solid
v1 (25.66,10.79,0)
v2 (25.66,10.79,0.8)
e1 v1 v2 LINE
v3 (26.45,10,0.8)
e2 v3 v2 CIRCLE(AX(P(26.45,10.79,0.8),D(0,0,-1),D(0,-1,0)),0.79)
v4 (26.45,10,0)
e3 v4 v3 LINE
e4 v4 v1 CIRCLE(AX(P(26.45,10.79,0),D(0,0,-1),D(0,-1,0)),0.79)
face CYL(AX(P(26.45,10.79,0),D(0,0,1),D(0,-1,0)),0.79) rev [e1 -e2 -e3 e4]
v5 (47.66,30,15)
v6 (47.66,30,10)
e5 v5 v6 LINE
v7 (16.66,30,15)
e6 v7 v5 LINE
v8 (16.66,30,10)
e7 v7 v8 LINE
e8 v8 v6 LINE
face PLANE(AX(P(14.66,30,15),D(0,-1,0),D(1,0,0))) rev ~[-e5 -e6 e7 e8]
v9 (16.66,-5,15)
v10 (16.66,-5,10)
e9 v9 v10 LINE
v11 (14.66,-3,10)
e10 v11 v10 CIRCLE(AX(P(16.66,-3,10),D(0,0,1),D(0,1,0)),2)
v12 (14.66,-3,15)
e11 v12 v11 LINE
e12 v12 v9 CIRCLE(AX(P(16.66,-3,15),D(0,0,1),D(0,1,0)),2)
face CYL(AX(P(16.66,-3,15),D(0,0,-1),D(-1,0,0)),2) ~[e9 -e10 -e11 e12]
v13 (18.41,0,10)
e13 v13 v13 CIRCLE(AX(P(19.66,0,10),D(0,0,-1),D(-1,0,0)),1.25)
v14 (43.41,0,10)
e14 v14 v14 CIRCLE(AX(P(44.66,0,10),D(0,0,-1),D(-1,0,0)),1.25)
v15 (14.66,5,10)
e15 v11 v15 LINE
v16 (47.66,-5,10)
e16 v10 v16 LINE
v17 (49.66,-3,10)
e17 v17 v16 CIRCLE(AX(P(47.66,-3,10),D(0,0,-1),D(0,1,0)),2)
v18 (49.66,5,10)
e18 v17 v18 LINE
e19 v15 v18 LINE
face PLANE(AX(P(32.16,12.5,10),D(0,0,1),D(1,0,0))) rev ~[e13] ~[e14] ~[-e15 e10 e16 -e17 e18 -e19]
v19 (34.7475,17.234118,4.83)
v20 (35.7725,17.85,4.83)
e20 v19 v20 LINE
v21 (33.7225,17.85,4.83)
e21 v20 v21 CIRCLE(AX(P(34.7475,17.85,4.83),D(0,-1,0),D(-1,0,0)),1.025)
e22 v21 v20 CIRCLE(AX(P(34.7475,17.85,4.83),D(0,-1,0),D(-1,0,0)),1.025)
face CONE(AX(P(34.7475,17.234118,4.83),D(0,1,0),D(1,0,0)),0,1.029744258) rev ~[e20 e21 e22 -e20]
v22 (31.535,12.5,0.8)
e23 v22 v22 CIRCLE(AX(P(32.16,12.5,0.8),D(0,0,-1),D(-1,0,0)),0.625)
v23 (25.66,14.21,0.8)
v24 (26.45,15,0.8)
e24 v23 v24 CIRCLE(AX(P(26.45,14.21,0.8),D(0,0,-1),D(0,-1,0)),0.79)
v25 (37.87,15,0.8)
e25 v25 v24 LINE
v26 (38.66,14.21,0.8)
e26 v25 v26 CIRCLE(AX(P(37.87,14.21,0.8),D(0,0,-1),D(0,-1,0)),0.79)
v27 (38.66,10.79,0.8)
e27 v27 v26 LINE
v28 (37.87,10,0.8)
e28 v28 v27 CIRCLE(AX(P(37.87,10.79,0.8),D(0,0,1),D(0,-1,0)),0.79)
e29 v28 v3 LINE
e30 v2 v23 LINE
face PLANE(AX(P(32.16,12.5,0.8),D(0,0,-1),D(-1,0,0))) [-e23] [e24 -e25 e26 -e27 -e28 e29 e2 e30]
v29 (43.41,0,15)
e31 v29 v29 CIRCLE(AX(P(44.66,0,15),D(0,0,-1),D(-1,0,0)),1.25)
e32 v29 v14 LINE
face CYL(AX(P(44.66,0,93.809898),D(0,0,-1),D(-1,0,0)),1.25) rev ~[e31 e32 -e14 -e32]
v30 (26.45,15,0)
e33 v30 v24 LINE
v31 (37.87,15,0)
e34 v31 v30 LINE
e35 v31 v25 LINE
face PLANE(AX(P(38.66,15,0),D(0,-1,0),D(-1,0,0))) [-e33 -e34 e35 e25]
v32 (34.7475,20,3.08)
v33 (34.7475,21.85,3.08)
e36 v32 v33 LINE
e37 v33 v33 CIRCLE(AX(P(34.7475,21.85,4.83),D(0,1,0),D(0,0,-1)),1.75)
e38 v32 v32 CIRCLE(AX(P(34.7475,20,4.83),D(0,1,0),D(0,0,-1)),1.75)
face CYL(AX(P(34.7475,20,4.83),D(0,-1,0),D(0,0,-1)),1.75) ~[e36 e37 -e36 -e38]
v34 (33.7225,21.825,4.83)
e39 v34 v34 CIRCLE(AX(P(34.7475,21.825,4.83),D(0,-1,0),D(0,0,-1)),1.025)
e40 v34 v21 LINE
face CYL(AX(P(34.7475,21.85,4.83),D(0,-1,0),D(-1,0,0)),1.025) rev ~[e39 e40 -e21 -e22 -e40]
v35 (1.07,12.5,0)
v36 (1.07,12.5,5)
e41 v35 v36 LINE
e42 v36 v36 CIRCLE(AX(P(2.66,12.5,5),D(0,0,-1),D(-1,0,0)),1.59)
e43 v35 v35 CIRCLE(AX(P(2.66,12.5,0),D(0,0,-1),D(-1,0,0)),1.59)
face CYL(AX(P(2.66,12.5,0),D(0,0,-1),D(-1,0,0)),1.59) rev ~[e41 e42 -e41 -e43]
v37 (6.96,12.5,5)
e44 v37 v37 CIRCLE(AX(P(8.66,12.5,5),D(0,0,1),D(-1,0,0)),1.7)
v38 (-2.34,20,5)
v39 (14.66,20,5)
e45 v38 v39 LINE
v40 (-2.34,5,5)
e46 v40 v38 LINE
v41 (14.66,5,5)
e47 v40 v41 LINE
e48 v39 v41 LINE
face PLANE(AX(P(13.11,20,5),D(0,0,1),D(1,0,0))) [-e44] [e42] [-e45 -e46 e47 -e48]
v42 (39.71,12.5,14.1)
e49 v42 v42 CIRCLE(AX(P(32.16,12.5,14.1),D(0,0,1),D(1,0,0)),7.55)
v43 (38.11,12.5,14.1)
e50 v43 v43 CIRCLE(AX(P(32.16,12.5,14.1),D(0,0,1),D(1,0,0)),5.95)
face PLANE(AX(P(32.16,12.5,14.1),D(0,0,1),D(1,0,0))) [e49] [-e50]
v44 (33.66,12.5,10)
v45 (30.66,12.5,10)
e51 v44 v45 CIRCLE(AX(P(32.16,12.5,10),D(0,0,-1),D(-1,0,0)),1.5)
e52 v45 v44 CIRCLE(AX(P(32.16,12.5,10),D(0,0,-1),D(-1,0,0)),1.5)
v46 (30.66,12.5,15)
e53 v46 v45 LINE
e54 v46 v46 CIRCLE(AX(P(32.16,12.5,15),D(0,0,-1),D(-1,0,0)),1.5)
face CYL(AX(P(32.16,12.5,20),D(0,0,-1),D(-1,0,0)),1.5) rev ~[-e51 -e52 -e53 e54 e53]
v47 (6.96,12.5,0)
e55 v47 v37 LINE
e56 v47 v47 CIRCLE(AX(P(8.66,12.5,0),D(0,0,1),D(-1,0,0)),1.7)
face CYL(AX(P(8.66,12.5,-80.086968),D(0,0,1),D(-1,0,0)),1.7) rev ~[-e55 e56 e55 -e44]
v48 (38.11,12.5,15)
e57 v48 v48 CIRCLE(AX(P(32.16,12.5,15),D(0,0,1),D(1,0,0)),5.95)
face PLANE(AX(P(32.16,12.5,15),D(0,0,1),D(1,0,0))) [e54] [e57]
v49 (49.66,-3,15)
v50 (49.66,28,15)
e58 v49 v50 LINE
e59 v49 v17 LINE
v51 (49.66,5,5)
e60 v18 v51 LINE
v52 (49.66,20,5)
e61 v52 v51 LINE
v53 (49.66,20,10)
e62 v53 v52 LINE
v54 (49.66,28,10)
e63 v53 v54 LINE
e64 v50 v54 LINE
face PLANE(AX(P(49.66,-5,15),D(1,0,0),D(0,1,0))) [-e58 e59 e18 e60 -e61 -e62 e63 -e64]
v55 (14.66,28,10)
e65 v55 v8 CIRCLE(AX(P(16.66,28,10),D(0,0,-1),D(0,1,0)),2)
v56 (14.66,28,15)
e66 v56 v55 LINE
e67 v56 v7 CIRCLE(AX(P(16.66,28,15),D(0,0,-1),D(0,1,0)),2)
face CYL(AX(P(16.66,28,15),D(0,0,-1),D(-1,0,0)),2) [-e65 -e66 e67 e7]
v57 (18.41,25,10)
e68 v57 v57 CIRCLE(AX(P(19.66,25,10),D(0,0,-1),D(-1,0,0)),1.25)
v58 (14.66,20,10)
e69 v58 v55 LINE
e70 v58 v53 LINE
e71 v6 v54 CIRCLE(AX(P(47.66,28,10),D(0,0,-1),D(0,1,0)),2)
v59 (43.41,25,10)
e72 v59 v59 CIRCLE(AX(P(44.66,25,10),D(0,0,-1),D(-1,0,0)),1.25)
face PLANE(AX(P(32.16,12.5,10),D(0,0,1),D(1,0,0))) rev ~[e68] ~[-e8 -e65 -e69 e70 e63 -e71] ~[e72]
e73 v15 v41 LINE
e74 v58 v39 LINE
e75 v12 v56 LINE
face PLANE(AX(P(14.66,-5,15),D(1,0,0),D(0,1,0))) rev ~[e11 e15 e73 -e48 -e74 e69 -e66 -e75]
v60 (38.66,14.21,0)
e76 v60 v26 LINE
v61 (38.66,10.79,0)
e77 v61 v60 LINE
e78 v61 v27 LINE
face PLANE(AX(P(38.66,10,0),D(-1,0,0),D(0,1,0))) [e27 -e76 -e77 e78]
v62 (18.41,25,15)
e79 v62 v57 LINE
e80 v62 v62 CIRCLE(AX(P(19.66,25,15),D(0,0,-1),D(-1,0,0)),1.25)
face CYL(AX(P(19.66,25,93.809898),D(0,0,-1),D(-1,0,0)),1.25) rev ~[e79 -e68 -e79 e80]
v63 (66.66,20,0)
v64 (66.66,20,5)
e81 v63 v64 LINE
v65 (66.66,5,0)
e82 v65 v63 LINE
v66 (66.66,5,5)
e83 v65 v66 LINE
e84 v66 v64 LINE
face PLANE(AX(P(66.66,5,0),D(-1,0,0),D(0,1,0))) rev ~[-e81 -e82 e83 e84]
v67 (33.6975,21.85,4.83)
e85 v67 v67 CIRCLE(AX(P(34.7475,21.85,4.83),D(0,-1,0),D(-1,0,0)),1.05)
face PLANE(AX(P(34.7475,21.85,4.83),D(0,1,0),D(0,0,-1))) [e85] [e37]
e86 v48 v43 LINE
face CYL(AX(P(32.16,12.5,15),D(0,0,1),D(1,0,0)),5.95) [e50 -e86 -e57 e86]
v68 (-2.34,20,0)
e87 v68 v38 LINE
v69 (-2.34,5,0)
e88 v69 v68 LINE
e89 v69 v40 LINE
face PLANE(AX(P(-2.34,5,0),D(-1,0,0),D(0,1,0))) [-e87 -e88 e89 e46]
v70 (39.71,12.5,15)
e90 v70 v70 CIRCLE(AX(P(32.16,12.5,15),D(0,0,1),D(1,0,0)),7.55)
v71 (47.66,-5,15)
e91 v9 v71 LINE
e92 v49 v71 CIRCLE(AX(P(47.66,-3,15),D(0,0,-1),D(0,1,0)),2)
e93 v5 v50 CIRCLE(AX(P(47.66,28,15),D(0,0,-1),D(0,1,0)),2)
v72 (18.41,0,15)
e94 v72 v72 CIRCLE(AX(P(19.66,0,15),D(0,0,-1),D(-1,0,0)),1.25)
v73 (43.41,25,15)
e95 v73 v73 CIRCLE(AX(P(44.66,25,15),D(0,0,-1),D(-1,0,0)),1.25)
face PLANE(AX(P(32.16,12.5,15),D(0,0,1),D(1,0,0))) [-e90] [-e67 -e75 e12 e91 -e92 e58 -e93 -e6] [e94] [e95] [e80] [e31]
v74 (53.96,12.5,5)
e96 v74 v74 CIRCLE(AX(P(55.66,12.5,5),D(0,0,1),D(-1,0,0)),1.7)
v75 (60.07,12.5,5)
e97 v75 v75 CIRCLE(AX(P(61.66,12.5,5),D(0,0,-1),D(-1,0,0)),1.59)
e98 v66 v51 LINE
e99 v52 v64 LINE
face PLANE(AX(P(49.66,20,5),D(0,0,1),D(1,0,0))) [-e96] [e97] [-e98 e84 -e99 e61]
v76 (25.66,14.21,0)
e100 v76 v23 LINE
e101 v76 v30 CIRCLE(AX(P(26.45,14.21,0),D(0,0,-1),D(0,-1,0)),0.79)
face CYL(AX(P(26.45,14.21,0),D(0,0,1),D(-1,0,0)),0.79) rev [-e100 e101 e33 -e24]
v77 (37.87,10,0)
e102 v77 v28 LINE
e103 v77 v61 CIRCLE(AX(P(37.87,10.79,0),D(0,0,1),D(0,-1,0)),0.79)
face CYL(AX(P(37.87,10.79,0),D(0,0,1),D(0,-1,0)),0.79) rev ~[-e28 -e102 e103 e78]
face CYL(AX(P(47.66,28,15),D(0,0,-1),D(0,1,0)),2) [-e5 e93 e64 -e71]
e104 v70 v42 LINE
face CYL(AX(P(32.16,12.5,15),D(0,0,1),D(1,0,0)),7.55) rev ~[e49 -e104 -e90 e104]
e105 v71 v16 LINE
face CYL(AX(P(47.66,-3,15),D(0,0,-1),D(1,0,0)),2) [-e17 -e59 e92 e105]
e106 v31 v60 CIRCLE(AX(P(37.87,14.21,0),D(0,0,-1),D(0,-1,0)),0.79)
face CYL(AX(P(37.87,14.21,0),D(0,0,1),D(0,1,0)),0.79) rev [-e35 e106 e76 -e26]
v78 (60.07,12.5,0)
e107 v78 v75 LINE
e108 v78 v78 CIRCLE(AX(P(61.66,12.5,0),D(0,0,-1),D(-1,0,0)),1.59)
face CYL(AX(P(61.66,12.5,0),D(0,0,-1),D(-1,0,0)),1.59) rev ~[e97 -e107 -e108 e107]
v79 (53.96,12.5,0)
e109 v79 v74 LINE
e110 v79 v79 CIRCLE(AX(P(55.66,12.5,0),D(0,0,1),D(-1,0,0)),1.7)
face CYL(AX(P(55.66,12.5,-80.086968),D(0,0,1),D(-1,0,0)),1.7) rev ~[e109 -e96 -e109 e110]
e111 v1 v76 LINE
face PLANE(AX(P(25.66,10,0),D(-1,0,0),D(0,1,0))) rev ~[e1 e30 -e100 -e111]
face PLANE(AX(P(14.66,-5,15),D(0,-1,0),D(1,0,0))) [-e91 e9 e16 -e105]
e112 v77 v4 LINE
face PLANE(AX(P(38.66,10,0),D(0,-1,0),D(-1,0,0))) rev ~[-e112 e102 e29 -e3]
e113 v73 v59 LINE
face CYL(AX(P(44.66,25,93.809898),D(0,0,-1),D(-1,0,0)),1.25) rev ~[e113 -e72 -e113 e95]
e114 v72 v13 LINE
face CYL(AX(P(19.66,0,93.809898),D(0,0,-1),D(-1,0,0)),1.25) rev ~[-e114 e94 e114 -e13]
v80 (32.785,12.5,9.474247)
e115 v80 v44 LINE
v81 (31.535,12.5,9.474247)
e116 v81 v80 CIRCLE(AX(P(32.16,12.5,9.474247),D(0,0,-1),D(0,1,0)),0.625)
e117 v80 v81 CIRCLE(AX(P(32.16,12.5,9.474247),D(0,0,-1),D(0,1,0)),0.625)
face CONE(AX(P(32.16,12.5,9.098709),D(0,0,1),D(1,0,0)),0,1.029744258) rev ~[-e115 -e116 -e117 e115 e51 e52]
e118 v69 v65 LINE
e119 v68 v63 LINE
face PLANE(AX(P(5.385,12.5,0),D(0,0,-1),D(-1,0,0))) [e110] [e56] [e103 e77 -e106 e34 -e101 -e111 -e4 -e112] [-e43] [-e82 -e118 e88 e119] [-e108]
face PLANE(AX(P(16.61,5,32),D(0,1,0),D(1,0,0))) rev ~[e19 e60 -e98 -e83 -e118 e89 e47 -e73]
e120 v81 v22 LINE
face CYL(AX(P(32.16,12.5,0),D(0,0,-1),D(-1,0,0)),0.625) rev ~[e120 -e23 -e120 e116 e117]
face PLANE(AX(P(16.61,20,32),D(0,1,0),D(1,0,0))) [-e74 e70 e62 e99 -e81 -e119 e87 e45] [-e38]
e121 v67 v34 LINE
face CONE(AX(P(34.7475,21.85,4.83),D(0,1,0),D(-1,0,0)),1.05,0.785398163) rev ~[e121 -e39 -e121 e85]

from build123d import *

# Parameters (mm, degrees)
SKETCH1_W                                = 60
SKETCH1_H                                = 20
BOSS_EXTRUDE1_DEPTH                      = 37
CUT_EXTRUDE2_DEPTH                       = 74.273460407
CUT_EXTRUDE2_DEPTH_BACK                  = 74.273460407
SKETCH7_W                                = 60
SKETCH7_H                                = 5
SKETCH16_R                               = 1.75
BOSS_EXTRUDE3_DEPTH                      = 1.85
SKETCH27_W                               = 0.34
SKETCH27_H                               = 37
SKETCH27_W_2                             = 4.66
CUT_EXTRUDE9_DEPTH                       = 73.069410987
SKETCH28_W                               = 8.45
SKETCH28_H                               = 32
CUT_EXTRUDE10_DEPTH                      = 72.786597635
CUT_EXTRUDE13_DEPTH                      = 72.786597635
CUT_EXTRUDE13_DEPTH_BACK                 = 72.786597635
SKETCH35_OUTSIDE_W                       = 70.68
SKETCH35_OUTSIDE_H                       = 52.68
SKETCH35_OUTSIDE_W_2                     = 38.1
SKETCH35_OUTSIDE_H_2                     = 20
CUT_EXTRUDE14_DEPTH                      = 65.934306033
CUT_EXTRUDE14_DEPTH_BACK                 = 65.934306033
SKETCH39_W                               = 7
SKETCH39_H                               = 10
M3_CLEARANCE_HOLE2_D                     = 3.4
TAP_DRILL_FOR_10_32_TAP1_D               = 4.0386
TAP_DRILL_FOR_10_32_TAP1_DEPTH           = 5
TAP_DRILL_FOR_10_32_TAP1_TIP             = 1.213317848
SKETCH6_R                                = 0.625
CUT_EXTRUDE1_DEPTH                       = 27
SKETCH44_W                               = 0.62
SKETCH44_H                               = 12.45
SKETCH48_R                               = 1.58
CUT_EXTRUDE17_DEPTH                      = 8
SKETCH49_R                               = 1.709194905
SKETCH49_R_2                             = 1.7
SKETCH49_R_3                             = 1.58
BOSS_EXTRUDE4_DEPTH                      = 10
BOSS_EXTRUDE5_START                      = 17
SKETCH50_W                               = 38.1
SKETCH50_H                               = 15
SKETCH50_R                               = 0.625
BOSS_EXTRUDE5_DEPTH                      = 17
SKETCH53_W                               = 15.45
SKETCH53_H                               = 15
BOSS_EXTRUDE6_DEPTH                      = 5
SKETCH54_R                               = 1.75
BOSS_EXTRUDE7_DEPTH                      = 1.85
TAP_DRILL_FOR_M2_5X0_45_TAP2_D           = 2.05
TAP_DRILL_FOR_M2_5X0_45_TAP2_DEPTH       = 4
TAP_DRILL_FOR_M2_5X0_45_TAP2_CSINK_D     = 2.1
TAP_DRILL_FOR_M2_5X0_45_TAP2_CSINK_ANGLE = 90
TAP_DRILL_FOR_M2_5X0_45_TAP2_TIP         = 0.615882135
M3_CLEARANCE_HOLE1_D                     = 3.4
SKETCH56_R                               = 1.59
CUT_EXTRUDE21_DEPTH                      = 5
SKETCH57_W                               = 13
SKETCH57_H                               = 5
CUT_EXTRUDE22_DEPTH                      = 0.8
FILLET1_R                                = 0.79
SKETCH58_W                               = 7
SKETCH58_H                               = 10
BOSS_EXTRUDE8_DEPTH                      = 15
TAP_DRILL_FOR_M3X0_5_TAP1_D              = 2.5
SKETCH59_W                               = 38.1
SKETCH59_H                               = 22
CUT_EXTRUDE23_DEPTH                      = 78.701709119
F_3_0MM_DOWEL_HOLE1_D                    = 3
F_3_0MM_DOWEL_HOLE1_DEPTH                = 5
F_3_0MM_DOWEL_HOLE1_TIP                  = 0.901290929
SKETCH65_W                               = 35
SKETCH65_H                               = 35
SKETCH65_R                               = 1
SKETCH65_R_2                             = 4
BOSS_EXTRUDE9_DEPTH                      = 5
SKETCH64_R                               = 7.55
SKETCH64_R_2                             = 5.95
CUT_EXTRUDE24_DEPTH                      = 0.9
TAP_DRILL_FOR_M3X0_5_TAP2_D              = 2.5
SKETCH68_W                               = 1.55
SKETCH68_H                               = 10
CUT_EXTRUDE25_DEPTH                      = 73.756825109
FILLET2_R                                = 2


with BuildPart() as part:
    # Sketch1 → Boss-Extrude1 (new body)
    with BuildSketch(Plane.XY):
        with Locations((30, 10)):
            Rectangle(SKETCH1_W, SKETCH1_H)
    extrude(amount=BOSS_EXTRUDE1_DEPTH)

    # Sketch7 → Cut-Extrude2 (cut, two sides: drawn at the far end of the back side and taken through both)
    with BuildSketch(Plane(origin=(0, 0, 0), x_dir=(-1, 0, 0), z_dir=(0, 0, -1)).offset(-CUT_EXTRUDE2_DEPTH_BACK)):
        with Locations((-30, 2.5)):
            Rectangle(SKETCH7_W, SKETCH7_H)
    extrude(amount=CUT_EXTRUDE2_DEPTH + CUT_EXTRUDE2_DEPTH_BACK, mode=Mode.SUBTRACT)

    # Sketch16 → Boss-Extrude3 (add)
    with BuildSketch(Plane(origin=(0, 20, 0), x_dir=(1, 0, 0), z_dir=(0, 1, 0))):
        with Locations(Location((34.7475, -4.83, 0), (0, 0, 90))):
            Circle(SKETCH16_R)
    extrude(amount=BOSS_EXTRUDE3_DEPTH)

    # Sketch27 → Cut-Extrude9 (cut, through all)
    with BuildSketch(Plane(origin=(0, 20, 0), x_dir=(1, 0, 0), z_dir=(0, 1, 0))):
        with Locations((59.83, -18.5)):
            Rectangle(SKETCH27_W, SKETCH27_H)
        with Locations((2.33, -18.5)):
            Rectangle(SKETCH27_W_2, SKETCH27_H)
    extrude(amount=-CUT_EXTRUDE9_DEPTH, mode=Mode.SUBTRACT)

    # Sketch28 → Cut-Extrude10 (cut, through all)
    with BuildSketch(Plane(origin=(0, 20, 0), x_dir=(1, 0, 0), z_dir=(0, 1, 0))):
        with Locations((55.435, -21)):
            Rectangle(SKETCH28_W, SKETCH28_H)
        with Locations((8.885, -21)):
            Rectangle(SKETCH28_W, SKETCH28_H)
    extrude(amount=-CUT_EXTRUDE10_DEPTH, mode=Mode.SUBTRACT)

    # Sketch35 outside → Cut-Extrude13 (cut, two sides: drawn at the far end of the back side and taken through both)
    with BuildSketch(Plane(origin=(0, 20, 0), x_dir=(1, 0, 0), z_dir=(0, 1, 0)).offset(-CUT_EXTRUDE13_DEPTH_BACK)):
        with Locations((32.16, -18.5)):
            Rectangle(SKETCH35_OUTSIDE_W, SKETCH35_OUTSIDE_H)
        with Locations((32.16, -27)):
            Rectangle(SKETCH35_OUTSIDE_W_2, SKETCH35_OUTSIDE_H_2, mode=Mode.SUBTRACT)
    extrude(amount=CUT_EXTRUDE13_DEPTH + CUT_EXTRUDE13_DEPTH_BACK, mode=Mode.SUBTRACT)

    # Sketch39 → Cut-Extrude14 (cut, two sides: drawn at the far end of the back side and taken through both)
    with BuildSketch(Plane(origin=(0, 20, 0), x_dir=(1, 0, 0), z_dir=(0, 1, 0)).offset(-CUT_EXTRUDE14_DEPTH_BACK)):
        with Locations((16.61, -32)):
            Rectangle(SKETCH39_W, SKETCH39_H)
        with Locations((47.71, -32)):
            Rectangle(SKETCH39_W, SKETCH39_H)
    extrude(amount=CUT_EXTRUDE14_DEPTH + CUT_EXTRUDE14_DEPTH_BACK, mode=Mode.SUBTRACT)

    # M3 Clearance Hole2 (through all)
    with Locations(Plane.XY.offset(27)):
        with Locations((17.11, 12.5), (47.21, 12.5)):
            Hole(M3_CLEARANCE_HOLE2_D / 2)

    # Tap Drill for #10-32 Tap1
    with Locations(Plane.XY.offset(37)):
        with Locations((32.16, 12.5)):
            Hole(TAP_DRILL_FOR_10_32_TAP1_D / 2, depth=TAP_DRILL_FOR_10_32_TAP1_DEPTH)
            with Locations((0, 0, -(TAP_DRILL_FOR_10_32_TAP1_DEPTH + TAP_DRILL_FOR_10_32_TAP1_TIP / 2))):  # 118° drill point
                Cone(0, TAP_DRILL_FOR_10_32_TAP1_D / 2, TAP_DRILL_FOR_10_32_TAP1_TIP, mode=Mode.SUBTRACT)

    # Sketch6 → Cut-Extrude1 (cut)
    with BuildSketch(Plane(origin=(0, 0, 17), x_dir=(-1, 0, 0), z_dir=(0, 0, -1))):
        with Locations((-32.16, 12.5)):
            Circle(SKETCH6_R)
    extrude(amount=-CUT_EXTRUDE1_DEPTH, mode=Mode.SUBTRACT)

    # Sketch44 → Cut-Revolve1 (revolve, cut)
    with BuildSketch(Plane(origin=(0, 12.5, 0), x_dir=(1, 0, 0), z_dir=(0, 1, 0))):
        Polygon((34.18, -37), (32.16, -37), (32.16, -29.45), (32.78, -29.45), (34.18, -30.29), align=None)
        with Locations((32.47, -23.225)):
            Rectangle(SKETCH44_W, SKETCH44_H)
    revolve(axis=Axis((32.16, 12.5, 37), (0, 0, -1)), mode=Mode.SUBTRACT)

    # Sketch48 → Cut-Extrude17 (cut)
    with BuildSketch(Plane(origin=(0, 0, 17), x_dir=(-1, 0, 0), z_dir=(0, 0, -1))):
        with Locations((-37.21, 15)):
            Circle(SKETCH48_R)
        with Locations((-27.11, 15)):
            Circle(SKETCH48_R)
    extrude(amount=-CUT_EXTRUDE17_DEPTH, mode=Mode.SUBTRACT)

    # Sketch49 → Boss-Extrude4 (add)
    with BuildSketch(Plane(origin=(0, 0, 17), x_dir=(-1, 0, 0), z_dir=(0, 0, -1))):
        with Locations((-47.21, 12.5)):
            Circle(SKETCH49_R)
        with Locations((-17.11, 12.5)):
            Circle(SKETCH49_R_2)
        with Locations((-27.11, 15)):
            Circle(SKETCH49_R_3)
        with Locations((-37.21, 15)):
            Circle(SKETCH49_R_3)
    extrude(amount=-BOSS_EXTRUDE4_DEPTH)

    # Sketch50 → Boss-Extrude5 (add)
    with BuildSketch(Plane(origin=(0, 0, 17), x_dir=(-1, 0, 0), z_dir=(0, 0, -1)).offset(BOSS_EXTRUDE5_START)):
        with Locations((-32.16, 12.5)):
            Rectangle(SKETCH50_W, SKETCH50_H)
        with Locations((-32.16, 12.5)):
            Circle(SKETCH50_R, mode=Mode.SUBTRACT)
    extrude(amount=-BOSS_EXTRUDE5_DEPTH)

    # Sketch53 → Boss-Extrude6 (add)
    with BuildSketch(Plane(origin=(0, 0, 0), x_dir=(-1, 0, 0), z_dir=(0, 0, -1))):
        with Locations((-5.385, 12.5)):
            Rectangle(SKETCH53_W, SKETCH53_H)
        with Locations((-58.935, 12.5)):
            Rectangle(SKETCH53_W, SKETCH53_H)
    extrude(amount=-BOSS_EXTRUDE6_DEPTH)

    # Sketch54 → Boss-Extrude7 (add)
    with BuildSketch(Plane(origin=(0, 20, 0), x_dir=(1, 0, 0), z_dir=(0, 1, 0))):
        with Locations(Location((34.7475, -4.83, 0), (0, 0, 90))):
            Circle(SKETCH54_R)
    extrude(amount=BOSS_EXTRUDE7_DEPTH)

    # Tap Drill for M2.5x0.45 Tap2
    with Locations(Plane(origin=(0, 21.85, 0), x_dir=(1, 0, 0), z_dir=(0, 1, 0))):
        with Locations((34.7475, -4.83)):
            CounterSinkHole(TAP_DRILL_FOR_M2_5X0_45_TAP2_D / 2, TAP_DRILL_FOR_M2_5X0_45_TAP2_CSINK_D / 2, depth=TAP_DRILL_FOR_M2_5X0_45_TAP2_DEPTH, counter_sink_angle=TAP_DRILL_FOR_M2_5X0_45_TAP2_CSINK_ANGLE)
            with Locations((0, 0, -(TAP_DRILL_FOR_M2_5X0_45_TAP2_DEPTH + TAP_DRILL_FOR_M2_5X0_45_TAP2_TIP / 2))):  # 118° drill point
                Cone(0, TAP_DRILL_FOR_M2_5X0_45_TAP2_D / 2, TAP_DRILL_FOR_M2_5X0_45_TAP2_TIP, mode=Mode.SUBTRACT)

    # M3 Clearance Hole1 (through all)
    with Locations(Plane(origin=(0, 0, 0), x_dir=(1, 0, 0), z_dir=(0, 0, -1))):
        with Locations((8.66, -12.5), (55.66, -12.5)):
            Hole(M3_CLEARANCE_HOLE1_D / 2)

    # Sketch56 → Cut-Extrude21 (cut)
    with BuildSketch(Plane(origin=(0, 0, 0), x_dir=(-1, 0, 0), z_dir=(0, 0, -1))):
        with Locations((-61.66, 12.5)):
            Circle(SKETCH56_R)
        with Locations((-2.66, 12.5)):
            Circle(SKETCH56_R)
    extrude(amount=-CUT_EXTRUDE21_DEPTH, mode=Mode.SUBTRACT)

    # Sketch57 → Cut-Extrude22 (cut)
    with BuildSketch(Plane(origin=(0, 0, 0), x_dir=(-1, 0, 0), z_dir=(0, 0, -1))):
        with Locations((-32.16, 12.5)):
            Rectangle(SKETCH57_W, SKETCH57_H)
    extrude(amount=-CUT_EXTRUDE22_DEPTH, mode=Mode.SUBTRACT)

    # Fillet1
    fillet1_edges = [part.edges().sort_by_distance(p)[0] for p in [
        (38.66, 10, 0.4),
        (38.66, 15, 0.4),
        (25.66, 15, 0.4),
        (25.66, 10, 0.4),
    ]]
    fillet(fillet1_edges, radius=FILLET1_R)

    # Sketch58 → Boss-Extrude8 (add)
    with BuildSketch(Plane(origin=(0, 20, 0), x_dir=(1, 0, 0), z_dir=(0, 1, 0))):
        with Locations((16.61, -32)):
            Rectangle(SKETCH58_W, SKETCH58_H)
        with Locations((47.71, -32)):
            Rectangle(SKETCH58_W, SKETCH58_H)
    extrude(amount=-BOSS_EXTRUDE8_DEPTH)

    # Tap Drill for M3x0.5 Tap1 (through all)
    with Locations(Plane(origin=(0, 5, 0), x_dir=(-1, 0, 0), z_dir=(0, -1, 0))):
        with Locations((-16.61, -33.5), (-47.71, -33.5)):
            Hole(TAP_DRILL_FOR_M3X0_5_TAP1_D / 2)

    # Sketch59 → Cut-Extrude23 (cut, through all)
    with BuildSketch(Plane(origin=(0, 20, 0), x_dir=(1, 0, 0), z_dir=(0, 1, 0))):
        with Locations((32.16, -26)):
            Rectangle(SKETCH59_W, SKETCH59_H)
    extrude(amount=-CUT_EXTRUDE23_DEPTH, mode=Mode.SUBTRACT)

    # Ø3.0mm Dowel Hole1
    with Locations(Plane.XY.offset(15)):
        with Locations((32.16, 12.5)):
            Hole(F_3_0MM_DOWEL_HOLE1_D / 2, depth=F_3_0MM_DOWEL_HOLE1_DEPTH)
            with Locations((0, 0, -(F_3_0MM_DOWEL_HOLE1_DEPTH + F_3_0MM_DOWEL_HOLE1_TIP / 2))):  # 118° drill point
                Cone(0, F_3_0MM_DOWEL_HOLE1_D / 2, F_3_0MM_DOWEL_HOLE1_TIP, mode=Mode.SUBTRACT)

    # Sketch65 → Boss-Extrude9 (add)
    with BuildSketch(Plane.XY.offset(15)):
        with Locations((32.16, 12.5)):
            Rectangle(SKETCH65_W, SKETCH65_H)
        with Locations((19.66, 25)):
            Circle(SKETCH65_R, mode=Mode.SUBTRACT)
        with Locations((44.66, 25)):
            Circle(SKETCH65_R, mode=Mode.SUBTRACT)
        with Locations((44.66, 0)):
            Circle(SKETCH65_R, mode=Mode.SUBTRACT)
        with Locations((19.66, 0)):
            Circle(SKETCH65_R, mode=Mode.SUBTRACT)
        with Locations((32.16, 12.5)):
            Circle(SKETCH65_R_2, mode=Mode.SUBTRACT)
    extrude(amount=-BOSS_EXTRUDE9_DEPTH)

    # Sketch64 → Cut-Extrude24 (cut)
    with BuildSketch(Plane.XY.offset(15)):
        with Locations((32.16, 12.5)):
            Circle(SKETCH64_R)
        with Locations((32.16, 12.5)):
            Circle(SKETCH64_R_2, mode=Mode.SUBTRACT)
    extrude(amount=-CUT_EXTRUDE24_DEPTH, mode=Mode.SUBTRACT)

    # Tap Drill for M3x0.5 Tap2 (through all)
    with Locations(Plane.XY.offset(15)):
        with Locations((19.66, 0), (19.66, 25), (44.66, 25), (44.66, 0)):
            Hole(TAP_DRILL_FOR_M3X0_5_TAP2_D / 2)

    # Sketch68 → Cut-Extrude25 (cut, through all)
    with BuildSketch(Plane(origin=(0, 20, 0), x_dir=(1, 0, 0), z_dir=(0, 1, 0))):
        with Locations((13.885, -10)):
            Rectangle(SKETCH68_W, SKETCH68_H)
        with Locations((50.435, -10)):
            Rectangle(SKETCH68_W, SKETCH68_H)
    extrude(amount=-CUT_EXTRUDE25_DEPTH, mode=Mode.SUBTRACT)

    # Fillet2
    fillet2_edges = [part.edges().sort_by_distance(p)[0] for p in [
        (14.66, -5, 12.5),
        (49.66, 30, 12.5),
        (14.66, 30, 12.5),
        (49.66, -5, 12.5),
    ]]
    fillet(fillet2_edges, radius=FILLET2_R)


solid = part.part
